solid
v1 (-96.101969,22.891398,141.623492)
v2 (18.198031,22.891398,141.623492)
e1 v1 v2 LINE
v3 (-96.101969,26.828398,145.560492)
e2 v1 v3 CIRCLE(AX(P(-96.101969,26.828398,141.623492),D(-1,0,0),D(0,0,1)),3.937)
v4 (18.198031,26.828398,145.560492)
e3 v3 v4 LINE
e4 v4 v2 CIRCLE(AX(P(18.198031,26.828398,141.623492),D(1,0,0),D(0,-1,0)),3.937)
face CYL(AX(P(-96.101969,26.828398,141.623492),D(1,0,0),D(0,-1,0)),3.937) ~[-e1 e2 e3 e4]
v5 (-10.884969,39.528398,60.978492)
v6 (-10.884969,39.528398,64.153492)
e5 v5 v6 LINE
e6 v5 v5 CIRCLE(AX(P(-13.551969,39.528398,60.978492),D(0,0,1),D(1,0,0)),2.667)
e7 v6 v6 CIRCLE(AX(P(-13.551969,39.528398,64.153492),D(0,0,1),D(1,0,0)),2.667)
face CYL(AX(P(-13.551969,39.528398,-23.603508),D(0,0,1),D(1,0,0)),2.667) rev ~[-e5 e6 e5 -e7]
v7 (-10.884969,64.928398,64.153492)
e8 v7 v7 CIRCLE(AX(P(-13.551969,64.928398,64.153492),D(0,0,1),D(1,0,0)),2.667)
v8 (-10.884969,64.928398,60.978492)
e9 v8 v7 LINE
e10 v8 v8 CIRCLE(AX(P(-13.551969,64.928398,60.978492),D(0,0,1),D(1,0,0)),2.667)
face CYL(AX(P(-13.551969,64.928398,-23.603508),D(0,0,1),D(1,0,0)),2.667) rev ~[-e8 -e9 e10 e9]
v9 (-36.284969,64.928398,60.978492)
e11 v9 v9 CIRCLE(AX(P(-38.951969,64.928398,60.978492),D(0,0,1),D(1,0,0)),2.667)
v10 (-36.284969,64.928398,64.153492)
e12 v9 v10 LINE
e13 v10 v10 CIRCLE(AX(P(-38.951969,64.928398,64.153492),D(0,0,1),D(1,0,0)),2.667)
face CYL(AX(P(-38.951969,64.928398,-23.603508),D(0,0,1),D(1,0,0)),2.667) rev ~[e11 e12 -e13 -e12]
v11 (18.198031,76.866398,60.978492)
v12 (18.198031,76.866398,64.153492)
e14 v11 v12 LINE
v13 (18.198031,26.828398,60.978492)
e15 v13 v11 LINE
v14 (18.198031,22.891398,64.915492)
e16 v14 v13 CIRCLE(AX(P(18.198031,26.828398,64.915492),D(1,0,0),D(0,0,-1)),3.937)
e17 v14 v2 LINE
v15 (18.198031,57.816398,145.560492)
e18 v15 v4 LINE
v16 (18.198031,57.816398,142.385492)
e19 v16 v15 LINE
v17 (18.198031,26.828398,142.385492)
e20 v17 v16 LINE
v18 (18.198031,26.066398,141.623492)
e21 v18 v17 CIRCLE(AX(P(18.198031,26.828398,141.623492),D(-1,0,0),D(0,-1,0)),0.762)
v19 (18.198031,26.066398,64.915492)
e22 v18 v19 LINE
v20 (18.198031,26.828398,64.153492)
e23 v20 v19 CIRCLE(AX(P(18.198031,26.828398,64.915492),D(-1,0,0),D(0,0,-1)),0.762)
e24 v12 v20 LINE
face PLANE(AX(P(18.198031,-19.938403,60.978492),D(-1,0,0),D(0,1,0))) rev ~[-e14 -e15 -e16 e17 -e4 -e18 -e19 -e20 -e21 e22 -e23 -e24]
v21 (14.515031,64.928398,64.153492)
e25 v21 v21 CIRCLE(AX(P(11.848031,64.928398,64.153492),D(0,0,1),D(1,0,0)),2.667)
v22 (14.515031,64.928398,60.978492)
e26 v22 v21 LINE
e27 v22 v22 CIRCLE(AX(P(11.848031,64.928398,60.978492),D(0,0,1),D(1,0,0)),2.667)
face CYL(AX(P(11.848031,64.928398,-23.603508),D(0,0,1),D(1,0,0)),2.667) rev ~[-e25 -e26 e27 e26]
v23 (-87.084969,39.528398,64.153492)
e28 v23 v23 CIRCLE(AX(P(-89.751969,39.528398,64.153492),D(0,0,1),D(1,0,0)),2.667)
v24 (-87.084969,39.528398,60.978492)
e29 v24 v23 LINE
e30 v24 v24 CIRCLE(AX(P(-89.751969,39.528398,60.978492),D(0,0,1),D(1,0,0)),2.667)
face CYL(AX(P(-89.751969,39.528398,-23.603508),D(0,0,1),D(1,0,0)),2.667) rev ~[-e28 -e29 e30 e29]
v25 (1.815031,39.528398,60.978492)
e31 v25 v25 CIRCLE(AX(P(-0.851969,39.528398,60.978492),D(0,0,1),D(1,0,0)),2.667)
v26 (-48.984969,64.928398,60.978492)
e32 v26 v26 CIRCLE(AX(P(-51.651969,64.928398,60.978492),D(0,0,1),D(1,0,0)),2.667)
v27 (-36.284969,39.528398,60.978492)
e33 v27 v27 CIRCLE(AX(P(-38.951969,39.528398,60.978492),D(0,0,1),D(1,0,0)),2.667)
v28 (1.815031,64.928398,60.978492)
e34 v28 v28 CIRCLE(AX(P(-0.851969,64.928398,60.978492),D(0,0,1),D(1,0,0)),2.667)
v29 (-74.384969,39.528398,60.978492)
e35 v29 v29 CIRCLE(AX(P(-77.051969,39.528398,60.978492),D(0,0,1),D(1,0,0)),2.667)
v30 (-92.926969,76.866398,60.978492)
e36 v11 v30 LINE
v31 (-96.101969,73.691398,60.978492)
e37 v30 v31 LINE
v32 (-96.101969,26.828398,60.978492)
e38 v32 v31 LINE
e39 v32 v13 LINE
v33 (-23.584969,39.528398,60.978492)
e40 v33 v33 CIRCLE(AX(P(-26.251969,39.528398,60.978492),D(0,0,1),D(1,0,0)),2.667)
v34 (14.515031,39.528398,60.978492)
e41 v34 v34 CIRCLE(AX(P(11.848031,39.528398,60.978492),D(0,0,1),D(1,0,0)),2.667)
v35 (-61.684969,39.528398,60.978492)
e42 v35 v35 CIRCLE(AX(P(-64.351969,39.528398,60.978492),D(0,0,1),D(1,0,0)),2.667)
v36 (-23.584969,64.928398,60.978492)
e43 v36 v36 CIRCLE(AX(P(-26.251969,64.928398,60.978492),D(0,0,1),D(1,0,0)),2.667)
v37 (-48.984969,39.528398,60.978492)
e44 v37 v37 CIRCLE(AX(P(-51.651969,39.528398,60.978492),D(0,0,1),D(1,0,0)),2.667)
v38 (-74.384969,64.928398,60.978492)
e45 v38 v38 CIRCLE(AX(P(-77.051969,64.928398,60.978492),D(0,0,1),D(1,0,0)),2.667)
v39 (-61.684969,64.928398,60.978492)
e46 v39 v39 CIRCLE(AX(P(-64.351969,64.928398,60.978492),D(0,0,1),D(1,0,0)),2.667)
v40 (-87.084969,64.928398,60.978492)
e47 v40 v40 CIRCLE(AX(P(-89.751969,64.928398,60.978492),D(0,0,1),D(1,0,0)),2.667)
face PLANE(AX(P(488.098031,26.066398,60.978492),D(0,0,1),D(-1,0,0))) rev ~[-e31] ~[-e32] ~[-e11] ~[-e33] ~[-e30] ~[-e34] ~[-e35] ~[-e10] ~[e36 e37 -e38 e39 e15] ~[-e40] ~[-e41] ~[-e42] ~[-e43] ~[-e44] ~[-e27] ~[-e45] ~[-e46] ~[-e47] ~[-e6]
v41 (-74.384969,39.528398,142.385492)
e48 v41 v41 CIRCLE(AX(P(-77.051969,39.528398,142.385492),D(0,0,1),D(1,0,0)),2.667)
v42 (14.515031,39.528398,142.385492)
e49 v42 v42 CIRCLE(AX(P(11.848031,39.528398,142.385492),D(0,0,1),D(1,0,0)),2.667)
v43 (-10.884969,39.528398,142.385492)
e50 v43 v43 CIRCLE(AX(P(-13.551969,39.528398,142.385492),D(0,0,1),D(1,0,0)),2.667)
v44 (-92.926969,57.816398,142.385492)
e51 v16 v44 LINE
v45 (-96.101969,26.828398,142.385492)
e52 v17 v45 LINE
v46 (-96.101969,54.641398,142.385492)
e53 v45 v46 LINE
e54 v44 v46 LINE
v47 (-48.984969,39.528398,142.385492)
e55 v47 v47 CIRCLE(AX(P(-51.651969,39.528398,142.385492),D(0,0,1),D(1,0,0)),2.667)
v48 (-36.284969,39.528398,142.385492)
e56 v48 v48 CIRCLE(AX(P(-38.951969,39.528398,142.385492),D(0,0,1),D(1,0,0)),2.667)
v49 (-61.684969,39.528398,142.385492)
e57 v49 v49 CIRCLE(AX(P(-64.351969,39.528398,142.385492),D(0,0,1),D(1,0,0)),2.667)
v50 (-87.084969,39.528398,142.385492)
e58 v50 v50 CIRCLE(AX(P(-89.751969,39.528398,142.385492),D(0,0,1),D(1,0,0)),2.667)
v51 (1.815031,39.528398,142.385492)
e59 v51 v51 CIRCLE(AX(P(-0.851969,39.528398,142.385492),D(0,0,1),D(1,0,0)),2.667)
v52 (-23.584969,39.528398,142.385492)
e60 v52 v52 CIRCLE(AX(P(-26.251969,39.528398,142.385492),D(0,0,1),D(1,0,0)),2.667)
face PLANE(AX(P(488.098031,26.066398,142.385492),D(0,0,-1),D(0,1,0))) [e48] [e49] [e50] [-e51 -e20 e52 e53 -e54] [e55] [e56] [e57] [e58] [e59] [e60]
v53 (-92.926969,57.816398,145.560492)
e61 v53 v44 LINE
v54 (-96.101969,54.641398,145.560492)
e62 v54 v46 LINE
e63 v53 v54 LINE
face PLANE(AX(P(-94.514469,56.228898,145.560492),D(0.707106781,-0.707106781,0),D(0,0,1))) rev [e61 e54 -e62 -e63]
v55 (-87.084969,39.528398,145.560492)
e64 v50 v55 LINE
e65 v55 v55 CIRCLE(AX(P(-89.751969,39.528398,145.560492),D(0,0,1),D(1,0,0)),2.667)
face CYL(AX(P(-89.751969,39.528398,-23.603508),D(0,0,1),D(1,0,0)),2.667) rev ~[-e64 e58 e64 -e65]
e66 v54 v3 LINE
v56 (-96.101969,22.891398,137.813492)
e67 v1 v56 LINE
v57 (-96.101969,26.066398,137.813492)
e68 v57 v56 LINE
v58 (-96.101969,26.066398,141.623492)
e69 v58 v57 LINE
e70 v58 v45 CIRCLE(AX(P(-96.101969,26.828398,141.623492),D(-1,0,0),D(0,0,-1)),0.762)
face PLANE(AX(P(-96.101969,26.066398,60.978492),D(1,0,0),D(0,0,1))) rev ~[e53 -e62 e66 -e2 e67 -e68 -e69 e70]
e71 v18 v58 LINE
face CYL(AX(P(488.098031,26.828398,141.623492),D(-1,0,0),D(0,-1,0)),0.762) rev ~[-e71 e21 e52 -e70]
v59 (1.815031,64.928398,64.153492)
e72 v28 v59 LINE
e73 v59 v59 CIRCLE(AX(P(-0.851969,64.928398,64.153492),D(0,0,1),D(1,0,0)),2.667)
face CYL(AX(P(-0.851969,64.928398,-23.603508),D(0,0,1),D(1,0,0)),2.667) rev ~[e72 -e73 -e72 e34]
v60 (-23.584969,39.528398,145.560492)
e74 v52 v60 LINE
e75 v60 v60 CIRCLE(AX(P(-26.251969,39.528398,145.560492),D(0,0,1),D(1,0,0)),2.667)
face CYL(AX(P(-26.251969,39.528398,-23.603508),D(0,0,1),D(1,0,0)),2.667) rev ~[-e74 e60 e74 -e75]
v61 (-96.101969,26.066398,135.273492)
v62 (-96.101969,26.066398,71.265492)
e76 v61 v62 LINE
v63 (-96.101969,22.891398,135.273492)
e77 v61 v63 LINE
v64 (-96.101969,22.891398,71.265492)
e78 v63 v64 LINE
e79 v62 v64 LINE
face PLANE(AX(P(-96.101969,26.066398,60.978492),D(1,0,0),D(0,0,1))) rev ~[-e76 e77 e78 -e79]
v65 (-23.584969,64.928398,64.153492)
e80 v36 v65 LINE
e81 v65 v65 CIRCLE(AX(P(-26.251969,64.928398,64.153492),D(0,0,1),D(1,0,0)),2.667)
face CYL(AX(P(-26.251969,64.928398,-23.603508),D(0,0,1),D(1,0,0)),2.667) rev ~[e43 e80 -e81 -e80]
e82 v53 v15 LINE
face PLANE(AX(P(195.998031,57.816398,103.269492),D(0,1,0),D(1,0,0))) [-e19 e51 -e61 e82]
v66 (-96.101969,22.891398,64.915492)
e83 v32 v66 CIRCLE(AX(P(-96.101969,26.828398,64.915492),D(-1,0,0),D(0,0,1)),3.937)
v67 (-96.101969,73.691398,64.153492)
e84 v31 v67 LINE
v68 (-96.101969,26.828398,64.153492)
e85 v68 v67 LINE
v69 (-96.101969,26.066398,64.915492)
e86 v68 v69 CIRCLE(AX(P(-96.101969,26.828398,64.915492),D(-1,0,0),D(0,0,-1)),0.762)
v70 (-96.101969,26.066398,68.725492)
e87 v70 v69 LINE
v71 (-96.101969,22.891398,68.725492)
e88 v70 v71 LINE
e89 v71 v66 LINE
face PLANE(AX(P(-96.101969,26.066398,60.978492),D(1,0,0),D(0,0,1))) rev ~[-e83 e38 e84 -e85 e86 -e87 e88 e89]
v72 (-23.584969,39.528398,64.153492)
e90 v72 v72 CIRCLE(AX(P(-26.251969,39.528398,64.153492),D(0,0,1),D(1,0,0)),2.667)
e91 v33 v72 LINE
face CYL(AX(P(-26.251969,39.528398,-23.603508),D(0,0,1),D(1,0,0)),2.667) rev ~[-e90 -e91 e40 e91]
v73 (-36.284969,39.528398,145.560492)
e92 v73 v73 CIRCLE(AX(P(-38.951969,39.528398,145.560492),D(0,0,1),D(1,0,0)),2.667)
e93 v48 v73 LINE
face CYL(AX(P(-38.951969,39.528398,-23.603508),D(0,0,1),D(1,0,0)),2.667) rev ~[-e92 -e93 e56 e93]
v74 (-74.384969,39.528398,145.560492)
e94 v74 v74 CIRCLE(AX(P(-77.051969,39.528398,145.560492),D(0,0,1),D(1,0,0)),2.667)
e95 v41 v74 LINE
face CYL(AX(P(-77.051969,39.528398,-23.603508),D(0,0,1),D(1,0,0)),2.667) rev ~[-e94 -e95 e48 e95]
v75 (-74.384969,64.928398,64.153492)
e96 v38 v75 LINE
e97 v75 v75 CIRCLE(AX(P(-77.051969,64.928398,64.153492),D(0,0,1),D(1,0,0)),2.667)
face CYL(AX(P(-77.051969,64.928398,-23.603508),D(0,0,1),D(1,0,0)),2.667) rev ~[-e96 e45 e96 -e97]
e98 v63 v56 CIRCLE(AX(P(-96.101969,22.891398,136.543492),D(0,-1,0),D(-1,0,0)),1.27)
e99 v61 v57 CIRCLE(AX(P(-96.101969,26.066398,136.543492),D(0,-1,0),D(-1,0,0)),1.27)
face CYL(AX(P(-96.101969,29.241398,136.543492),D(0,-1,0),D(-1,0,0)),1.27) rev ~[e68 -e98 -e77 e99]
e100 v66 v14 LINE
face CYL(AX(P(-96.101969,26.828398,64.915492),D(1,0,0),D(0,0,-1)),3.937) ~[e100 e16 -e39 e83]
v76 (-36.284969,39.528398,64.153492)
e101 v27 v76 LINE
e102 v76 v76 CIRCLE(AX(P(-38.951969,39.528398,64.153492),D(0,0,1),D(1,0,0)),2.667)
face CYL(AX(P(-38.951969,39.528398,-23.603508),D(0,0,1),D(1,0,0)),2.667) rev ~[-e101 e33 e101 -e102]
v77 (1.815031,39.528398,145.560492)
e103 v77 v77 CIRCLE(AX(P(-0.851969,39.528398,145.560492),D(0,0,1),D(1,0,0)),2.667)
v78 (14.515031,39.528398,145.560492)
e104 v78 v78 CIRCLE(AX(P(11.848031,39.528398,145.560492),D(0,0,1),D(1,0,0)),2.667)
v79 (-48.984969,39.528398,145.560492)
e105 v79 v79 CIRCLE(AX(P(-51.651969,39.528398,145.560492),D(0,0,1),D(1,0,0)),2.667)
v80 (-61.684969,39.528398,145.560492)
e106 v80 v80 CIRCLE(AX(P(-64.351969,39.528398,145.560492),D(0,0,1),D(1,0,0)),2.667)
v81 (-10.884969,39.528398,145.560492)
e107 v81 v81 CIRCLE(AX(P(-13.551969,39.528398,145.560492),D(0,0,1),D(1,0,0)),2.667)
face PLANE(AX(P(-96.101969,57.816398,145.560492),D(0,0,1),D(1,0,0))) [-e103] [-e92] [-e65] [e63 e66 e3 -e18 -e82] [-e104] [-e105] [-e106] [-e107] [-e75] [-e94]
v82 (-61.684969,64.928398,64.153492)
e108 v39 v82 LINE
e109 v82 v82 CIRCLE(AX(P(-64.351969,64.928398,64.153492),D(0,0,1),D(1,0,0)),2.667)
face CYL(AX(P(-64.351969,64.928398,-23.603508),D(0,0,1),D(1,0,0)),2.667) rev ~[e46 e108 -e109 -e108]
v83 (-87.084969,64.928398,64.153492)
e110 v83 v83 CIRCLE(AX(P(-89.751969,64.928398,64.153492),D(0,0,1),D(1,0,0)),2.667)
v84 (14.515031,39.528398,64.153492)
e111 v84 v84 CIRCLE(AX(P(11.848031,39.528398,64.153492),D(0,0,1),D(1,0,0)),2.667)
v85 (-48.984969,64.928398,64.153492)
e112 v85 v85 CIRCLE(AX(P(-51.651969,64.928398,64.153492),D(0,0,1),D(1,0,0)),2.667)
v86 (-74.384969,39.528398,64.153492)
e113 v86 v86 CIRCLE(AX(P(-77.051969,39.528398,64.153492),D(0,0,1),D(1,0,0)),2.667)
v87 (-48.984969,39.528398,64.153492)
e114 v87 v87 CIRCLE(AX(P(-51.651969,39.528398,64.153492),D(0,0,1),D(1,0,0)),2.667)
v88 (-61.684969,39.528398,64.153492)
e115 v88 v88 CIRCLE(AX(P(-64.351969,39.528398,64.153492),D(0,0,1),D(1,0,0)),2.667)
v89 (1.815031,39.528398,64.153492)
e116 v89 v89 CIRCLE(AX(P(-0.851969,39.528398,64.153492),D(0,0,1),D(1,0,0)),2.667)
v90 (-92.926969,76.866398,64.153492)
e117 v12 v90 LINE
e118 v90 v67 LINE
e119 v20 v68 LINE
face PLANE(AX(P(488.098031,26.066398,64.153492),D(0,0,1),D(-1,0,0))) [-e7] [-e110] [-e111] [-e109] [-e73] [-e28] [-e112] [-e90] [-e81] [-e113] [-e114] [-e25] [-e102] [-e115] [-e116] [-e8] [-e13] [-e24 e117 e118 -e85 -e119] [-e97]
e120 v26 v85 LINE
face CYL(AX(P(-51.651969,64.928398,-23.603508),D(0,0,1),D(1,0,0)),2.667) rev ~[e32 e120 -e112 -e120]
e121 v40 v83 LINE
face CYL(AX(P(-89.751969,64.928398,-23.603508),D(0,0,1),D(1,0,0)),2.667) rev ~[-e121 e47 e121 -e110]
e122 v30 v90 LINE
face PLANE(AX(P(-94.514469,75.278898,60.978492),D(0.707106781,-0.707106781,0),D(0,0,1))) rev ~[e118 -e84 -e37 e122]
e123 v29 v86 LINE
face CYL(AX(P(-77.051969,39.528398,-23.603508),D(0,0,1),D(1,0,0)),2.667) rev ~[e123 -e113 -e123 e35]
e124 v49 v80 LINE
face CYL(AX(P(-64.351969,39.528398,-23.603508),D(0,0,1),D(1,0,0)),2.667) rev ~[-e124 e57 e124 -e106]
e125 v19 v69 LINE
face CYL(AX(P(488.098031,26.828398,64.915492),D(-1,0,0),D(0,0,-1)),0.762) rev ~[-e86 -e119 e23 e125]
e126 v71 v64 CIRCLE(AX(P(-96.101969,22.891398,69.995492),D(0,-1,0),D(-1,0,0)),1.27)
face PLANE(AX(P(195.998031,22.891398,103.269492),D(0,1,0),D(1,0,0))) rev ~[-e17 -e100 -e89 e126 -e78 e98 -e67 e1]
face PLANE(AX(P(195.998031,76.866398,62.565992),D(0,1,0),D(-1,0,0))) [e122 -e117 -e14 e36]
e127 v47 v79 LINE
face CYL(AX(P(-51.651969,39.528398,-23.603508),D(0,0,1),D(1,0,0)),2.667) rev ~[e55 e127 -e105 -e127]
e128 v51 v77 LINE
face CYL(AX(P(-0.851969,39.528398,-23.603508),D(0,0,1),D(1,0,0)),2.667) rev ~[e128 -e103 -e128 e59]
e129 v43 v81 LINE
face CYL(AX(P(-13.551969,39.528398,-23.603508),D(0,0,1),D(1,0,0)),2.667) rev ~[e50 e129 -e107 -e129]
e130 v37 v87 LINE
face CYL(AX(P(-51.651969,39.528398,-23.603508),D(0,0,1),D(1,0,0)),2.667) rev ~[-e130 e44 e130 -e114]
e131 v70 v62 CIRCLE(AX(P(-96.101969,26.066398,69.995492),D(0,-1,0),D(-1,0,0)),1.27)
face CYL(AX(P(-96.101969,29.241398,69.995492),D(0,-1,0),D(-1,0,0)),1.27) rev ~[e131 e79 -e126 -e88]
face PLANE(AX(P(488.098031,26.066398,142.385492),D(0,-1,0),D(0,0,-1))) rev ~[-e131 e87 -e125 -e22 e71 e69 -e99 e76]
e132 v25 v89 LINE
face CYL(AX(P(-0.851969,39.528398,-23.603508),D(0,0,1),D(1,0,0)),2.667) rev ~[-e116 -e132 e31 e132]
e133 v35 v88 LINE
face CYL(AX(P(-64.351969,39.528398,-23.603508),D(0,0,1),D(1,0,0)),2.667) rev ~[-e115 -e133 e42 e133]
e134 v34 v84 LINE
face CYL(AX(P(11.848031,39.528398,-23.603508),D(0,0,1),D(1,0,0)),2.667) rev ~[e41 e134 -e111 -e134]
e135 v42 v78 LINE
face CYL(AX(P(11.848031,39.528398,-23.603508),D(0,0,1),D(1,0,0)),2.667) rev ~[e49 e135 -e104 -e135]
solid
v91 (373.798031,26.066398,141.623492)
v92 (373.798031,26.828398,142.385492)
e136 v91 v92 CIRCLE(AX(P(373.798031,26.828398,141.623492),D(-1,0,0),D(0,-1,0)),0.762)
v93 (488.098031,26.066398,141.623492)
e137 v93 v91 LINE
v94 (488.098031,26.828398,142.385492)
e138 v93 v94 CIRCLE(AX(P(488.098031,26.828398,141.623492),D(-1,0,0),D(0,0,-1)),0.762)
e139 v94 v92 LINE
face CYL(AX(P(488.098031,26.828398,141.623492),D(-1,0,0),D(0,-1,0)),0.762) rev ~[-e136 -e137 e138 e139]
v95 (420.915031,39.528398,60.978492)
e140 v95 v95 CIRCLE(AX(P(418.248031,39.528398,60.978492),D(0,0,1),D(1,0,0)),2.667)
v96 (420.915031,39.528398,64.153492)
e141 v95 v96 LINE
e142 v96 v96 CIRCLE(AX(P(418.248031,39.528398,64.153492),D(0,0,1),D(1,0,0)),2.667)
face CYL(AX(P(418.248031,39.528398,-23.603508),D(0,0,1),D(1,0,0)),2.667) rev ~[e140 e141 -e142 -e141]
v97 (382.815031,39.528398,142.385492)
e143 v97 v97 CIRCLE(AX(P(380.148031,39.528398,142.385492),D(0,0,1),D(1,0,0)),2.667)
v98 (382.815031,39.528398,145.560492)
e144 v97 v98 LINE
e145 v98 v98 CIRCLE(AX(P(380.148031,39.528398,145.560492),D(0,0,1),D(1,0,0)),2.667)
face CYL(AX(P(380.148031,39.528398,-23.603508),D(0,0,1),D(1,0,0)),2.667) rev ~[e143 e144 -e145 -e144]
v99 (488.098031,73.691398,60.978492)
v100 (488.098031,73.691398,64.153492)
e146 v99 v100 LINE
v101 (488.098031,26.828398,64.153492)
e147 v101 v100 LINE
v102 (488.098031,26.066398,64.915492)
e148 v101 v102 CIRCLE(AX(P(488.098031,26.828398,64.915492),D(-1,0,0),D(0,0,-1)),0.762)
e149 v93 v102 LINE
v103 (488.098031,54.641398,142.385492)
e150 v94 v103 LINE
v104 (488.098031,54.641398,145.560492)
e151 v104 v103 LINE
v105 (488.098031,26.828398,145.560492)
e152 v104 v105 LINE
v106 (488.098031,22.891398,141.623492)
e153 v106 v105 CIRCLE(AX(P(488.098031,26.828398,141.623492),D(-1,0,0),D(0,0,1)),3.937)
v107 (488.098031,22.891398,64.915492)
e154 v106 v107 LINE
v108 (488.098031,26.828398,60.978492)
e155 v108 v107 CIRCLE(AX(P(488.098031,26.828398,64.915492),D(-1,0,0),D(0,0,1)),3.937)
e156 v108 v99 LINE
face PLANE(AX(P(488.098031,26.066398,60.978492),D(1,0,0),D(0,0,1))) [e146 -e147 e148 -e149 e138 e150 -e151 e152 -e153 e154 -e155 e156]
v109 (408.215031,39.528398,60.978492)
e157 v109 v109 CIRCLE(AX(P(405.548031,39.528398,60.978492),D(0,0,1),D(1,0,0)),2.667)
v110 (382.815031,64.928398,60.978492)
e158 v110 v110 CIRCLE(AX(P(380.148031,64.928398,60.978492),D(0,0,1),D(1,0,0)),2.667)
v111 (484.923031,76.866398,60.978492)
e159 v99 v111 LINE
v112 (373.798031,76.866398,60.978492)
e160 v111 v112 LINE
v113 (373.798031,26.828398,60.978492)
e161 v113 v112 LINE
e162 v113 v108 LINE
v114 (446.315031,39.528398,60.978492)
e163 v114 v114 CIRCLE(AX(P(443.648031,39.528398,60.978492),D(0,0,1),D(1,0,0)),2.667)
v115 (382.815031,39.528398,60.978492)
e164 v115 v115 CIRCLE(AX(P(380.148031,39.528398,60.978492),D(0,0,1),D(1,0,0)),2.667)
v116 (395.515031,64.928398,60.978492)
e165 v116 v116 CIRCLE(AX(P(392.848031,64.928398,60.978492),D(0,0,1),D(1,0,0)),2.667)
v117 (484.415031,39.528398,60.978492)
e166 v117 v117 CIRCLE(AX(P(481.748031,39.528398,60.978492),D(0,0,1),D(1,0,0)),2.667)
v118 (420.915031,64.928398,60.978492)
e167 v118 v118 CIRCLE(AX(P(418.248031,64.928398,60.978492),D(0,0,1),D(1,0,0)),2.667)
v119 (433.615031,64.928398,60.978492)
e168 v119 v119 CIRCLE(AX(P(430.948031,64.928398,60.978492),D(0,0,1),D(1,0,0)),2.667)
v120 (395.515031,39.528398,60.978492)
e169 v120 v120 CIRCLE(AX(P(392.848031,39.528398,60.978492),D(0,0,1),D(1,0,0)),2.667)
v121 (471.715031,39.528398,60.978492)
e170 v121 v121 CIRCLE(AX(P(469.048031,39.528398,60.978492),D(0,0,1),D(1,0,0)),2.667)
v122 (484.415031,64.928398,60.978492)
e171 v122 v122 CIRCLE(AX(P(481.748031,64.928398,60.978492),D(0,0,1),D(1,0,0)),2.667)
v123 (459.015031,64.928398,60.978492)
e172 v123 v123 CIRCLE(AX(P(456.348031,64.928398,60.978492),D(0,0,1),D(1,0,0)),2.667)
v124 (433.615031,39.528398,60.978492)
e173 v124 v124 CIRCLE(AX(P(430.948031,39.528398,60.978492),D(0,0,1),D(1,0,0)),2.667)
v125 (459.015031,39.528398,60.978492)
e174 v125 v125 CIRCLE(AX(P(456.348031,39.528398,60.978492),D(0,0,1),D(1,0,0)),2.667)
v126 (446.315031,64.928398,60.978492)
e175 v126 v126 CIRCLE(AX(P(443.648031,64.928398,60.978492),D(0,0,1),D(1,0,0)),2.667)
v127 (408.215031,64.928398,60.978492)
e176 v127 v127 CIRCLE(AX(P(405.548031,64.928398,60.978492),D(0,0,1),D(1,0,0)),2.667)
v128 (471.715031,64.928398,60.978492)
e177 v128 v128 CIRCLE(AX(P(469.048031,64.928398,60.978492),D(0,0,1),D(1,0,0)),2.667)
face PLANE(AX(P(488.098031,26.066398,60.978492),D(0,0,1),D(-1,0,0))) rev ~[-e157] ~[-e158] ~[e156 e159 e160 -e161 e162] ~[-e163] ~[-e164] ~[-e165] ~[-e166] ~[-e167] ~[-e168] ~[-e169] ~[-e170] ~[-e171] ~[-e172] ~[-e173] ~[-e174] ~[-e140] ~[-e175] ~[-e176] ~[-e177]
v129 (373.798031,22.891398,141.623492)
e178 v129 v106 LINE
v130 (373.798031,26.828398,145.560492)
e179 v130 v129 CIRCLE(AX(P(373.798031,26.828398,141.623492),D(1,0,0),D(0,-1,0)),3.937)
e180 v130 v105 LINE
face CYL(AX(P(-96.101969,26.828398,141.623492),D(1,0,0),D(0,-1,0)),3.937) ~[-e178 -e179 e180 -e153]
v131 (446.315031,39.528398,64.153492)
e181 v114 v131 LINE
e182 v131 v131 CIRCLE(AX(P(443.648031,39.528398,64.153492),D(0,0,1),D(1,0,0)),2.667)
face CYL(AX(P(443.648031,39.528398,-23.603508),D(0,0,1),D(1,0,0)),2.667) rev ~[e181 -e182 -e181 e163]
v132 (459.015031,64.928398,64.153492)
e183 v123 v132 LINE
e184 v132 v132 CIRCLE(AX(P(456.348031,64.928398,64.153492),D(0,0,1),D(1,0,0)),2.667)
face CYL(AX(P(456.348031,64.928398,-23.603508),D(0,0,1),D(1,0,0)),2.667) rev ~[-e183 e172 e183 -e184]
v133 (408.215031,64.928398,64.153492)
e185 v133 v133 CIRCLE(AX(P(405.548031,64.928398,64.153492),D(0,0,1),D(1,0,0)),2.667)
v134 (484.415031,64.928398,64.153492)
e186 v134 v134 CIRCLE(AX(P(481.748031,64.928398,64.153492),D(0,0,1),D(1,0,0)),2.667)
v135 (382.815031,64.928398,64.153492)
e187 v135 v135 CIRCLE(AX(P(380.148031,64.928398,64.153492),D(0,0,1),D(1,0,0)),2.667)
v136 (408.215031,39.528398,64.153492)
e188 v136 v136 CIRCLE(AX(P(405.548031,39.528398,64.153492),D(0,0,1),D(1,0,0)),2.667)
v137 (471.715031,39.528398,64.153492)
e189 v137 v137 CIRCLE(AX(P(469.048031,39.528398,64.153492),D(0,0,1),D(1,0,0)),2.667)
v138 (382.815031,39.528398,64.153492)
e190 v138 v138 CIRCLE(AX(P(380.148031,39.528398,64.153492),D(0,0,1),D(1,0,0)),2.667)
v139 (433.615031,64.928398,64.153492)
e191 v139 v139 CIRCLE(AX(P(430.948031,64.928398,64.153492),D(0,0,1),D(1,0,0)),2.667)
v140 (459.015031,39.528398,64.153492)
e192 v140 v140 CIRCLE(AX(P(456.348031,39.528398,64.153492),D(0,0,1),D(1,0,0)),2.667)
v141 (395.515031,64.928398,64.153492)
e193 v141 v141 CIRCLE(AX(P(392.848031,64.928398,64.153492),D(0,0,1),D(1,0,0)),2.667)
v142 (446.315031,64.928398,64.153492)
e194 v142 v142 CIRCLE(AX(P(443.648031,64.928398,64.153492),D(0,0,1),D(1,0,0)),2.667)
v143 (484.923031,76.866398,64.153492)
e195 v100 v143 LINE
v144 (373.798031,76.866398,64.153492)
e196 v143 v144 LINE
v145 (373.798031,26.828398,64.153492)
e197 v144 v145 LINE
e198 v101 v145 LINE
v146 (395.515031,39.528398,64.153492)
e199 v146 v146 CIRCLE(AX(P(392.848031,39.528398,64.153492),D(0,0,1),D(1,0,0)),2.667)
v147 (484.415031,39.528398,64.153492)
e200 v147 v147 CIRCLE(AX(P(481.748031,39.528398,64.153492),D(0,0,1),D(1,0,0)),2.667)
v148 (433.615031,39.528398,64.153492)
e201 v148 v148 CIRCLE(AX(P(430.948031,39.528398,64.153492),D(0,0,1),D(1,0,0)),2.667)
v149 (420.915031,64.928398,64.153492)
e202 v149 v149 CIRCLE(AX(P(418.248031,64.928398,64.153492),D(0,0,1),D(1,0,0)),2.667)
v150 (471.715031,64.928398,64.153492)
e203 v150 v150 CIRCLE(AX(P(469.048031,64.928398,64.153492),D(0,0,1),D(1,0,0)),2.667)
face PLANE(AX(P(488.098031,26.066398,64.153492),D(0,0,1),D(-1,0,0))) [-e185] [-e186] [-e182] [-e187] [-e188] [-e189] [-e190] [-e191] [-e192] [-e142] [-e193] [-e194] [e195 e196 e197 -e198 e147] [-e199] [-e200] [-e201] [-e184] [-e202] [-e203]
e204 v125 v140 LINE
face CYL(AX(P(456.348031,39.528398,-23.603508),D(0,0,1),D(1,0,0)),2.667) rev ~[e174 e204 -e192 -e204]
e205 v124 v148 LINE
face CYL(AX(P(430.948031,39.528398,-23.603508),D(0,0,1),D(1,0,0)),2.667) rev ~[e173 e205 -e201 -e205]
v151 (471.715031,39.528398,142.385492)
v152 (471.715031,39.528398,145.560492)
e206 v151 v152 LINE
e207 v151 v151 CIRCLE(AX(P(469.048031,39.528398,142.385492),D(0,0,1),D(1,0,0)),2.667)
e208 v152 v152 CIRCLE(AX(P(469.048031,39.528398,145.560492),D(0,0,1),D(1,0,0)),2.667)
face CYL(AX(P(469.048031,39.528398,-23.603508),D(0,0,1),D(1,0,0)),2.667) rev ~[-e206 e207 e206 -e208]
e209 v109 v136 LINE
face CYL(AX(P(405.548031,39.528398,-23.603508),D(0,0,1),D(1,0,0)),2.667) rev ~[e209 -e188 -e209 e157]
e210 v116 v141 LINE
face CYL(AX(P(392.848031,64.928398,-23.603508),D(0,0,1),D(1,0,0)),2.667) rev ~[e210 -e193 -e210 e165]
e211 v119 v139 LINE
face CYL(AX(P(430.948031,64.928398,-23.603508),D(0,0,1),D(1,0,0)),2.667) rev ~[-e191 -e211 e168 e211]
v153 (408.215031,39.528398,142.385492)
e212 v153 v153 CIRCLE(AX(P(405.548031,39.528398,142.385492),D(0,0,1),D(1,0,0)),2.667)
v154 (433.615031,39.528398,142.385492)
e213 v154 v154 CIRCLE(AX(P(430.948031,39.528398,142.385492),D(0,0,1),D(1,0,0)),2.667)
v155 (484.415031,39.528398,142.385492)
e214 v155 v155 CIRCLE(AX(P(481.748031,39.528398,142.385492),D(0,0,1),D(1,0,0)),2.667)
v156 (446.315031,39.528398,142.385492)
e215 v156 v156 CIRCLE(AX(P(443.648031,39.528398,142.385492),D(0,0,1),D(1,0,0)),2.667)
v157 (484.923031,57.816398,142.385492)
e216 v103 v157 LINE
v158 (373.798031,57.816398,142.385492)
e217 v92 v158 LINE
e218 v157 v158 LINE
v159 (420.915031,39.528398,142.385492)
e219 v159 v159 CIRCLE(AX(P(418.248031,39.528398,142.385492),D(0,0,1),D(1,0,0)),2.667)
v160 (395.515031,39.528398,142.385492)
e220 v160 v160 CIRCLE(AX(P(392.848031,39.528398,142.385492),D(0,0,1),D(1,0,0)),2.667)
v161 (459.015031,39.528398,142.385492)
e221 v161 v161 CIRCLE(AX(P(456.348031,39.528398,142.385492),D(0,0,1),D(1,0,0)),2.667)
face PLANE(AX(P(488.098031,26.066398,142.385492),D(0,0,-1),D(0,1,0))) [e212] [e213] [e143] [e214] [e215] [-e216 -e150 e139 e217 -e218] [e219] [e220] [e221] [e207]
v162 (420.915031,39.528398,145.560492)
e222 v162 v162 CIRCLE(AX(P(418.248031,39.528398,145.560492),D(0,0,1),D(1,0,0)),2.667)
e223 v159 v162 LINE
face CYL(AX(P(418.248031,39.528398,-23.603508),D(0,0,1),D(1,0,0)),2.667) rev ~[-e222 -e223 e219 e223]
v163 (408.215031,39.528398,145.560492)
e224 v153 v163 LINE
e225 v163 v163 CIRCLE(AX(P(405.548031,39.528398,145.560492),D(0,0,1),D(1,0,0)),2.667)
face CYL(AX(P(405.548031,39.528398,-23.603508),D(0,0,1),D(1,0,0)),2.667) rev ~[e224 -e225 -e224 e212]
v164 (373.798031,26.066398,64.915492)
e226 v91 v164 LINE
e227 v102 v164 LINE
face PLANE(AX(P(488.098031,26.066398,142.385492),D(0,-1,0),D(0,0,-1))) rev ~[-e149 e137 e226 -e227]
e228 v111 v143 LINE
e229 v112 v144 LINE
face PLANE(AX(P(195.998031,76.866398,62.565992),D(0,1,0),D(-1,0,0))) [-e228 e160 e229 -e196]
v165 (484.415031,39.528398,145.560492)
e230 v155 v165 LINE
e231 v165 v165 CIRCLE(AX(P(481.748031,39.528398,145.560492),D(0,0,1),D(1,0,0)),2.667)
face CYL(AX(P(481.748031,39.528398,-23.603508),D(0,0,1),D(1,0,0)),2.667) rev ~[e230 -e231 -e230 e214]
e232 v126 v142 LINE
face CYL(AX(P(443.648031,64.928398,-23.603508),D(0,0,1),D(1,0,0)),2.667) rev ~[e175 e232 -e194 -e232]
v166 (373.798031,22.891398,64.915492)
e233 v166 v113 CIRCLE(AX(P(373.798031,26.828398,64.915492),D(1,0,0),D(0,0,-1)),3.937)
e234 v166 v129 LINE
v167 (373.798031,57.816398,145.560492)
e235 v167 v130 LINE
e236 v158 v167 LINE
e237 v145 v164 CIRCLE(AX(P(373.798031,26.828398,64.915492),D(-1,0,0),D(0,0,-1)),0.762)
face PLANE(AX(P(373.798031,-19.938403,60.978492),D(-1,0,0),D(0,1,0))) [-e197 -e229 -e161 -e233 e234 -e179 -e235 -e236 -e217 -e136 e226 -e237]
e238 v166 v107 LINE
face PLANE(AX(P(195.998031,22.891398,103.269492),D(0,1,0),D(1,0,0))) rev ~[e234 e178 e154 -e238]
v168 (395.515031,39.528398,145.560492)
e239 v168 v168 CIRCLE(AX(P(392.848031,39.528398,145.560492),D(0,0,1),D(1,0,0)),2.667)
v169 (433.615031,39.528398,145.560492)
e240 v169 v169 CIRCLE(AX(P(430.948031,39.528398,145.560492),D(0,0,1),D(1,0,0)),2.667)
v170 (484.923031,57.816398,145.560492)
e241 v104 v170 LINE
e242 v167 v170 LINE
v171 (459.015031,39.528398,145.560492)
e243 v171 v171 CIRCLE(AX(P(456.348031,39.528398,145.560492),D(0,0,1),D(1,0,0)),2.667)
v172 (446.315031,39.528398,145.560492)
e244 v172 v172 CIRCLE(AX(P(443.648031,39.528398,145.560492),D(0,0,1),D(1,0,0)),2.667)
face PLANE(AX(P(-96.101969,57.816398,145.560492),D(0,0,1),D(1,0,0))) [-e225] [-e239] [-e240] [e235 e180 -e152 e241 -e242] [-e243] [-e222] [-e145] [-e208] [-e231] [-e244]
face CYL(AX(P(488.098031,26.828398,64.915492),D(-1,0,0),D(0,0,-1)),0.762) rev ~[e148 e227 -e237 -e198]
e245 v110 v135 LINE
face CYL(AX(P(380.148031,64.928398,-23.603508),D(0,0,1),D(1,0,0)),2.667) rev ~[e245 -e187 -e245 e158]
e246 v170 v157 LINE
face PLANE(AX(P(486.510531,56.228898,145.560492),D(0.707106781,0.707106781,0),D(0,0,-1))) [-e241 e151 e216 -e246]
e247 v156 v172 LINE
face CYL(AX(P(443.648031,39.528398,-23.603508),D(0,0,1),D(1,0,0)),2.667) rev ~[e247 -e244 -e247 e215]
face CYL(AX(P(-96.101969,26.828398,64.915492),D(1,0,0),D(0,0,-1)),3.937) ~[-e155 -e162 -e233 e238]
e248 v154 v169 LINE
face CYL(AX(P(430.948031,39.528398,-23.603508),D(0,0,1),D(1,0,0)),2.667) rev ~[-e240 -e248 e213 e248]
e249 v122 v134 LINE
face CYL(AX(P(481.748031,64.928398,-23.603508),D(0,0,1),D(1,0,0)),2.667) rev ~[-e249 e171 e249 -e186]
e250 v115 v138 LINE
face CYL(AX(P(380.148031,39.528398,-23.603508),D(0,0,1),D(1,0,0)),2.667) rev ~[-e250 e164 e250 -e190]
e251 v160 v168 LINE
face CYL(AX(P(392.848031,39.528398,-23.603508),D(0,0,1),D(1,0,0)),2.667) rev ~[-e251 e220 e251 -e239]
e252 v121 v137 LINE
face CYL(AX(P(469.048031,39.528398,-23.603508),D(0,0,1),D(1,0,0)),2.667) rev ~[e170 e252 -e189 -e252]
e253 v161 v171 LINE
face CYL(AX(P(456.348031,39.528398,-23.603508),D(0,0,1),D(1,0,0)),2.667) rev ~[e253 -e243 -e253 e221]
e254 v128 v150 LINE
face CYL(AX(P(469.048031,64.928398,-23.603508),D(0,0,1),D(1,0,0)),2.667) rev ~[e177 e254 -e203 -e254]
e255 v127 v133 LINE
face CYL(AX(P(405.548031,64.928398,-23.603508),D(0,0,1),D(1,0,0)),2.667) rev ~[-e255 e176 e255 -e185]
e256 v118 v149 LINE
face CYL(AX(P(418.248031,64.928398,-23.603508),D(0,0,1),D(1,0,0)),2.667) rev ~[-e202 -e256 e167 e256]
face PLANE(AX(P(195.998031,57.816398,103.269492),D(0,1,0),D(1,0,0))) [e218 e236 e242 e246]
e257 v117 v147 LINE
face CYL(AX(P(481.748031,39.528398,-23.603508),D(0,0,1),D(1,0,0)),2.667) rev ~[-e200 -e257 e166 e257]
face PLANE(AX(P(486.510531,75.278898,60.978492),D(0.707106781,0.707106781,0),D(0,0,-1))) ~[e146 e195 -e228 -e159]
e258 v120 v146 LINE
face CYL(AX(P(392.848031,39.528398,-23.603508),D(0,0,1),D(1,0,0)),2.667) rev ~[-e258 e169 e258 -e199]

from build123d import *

# Parameters (mm, degrees)
SKETCH1_W                = 584.2
SKETCH1_H                = 84.582
BOSS_EXTRUDE1_DEPTH      = 34.925
SKETCH2_W                = 81.407
SKETCH2_H                = 31.75
CUT_EXTRUDE1_DEPTH       = 585.2
SKETCH3_W                = 584.2
SKETCH3_H                = 3.175
BOSS_EXTRUDE2_DEPTH      = 50.8
M2_CLEARANCE_HOLE1_D     = 2.54
M2_CLEARANCE_HOLE1_DEPTH = 3.175
M5_CLEARANCE_HOLE1_D     = 5.334
M5_CLEARANCE_HOLE1_DEPTH = 84.582
CHAMFER1_SIZE            = 3.175
FILLET1_R                = 0.762
FILLET2_R                = 3.937
SKETCH9_W                = 355.6
SKETCH9_H                = 96.804801105
CUT_EXTRUDE2_DEPTH       = 85.582


with BuildPart() as part:
    # Sketch1 → Boss-Extrude1 (new body)
    with BuildSketch(Plane(origin=(0, 57.816398039, 0), x_dir=(1, 0, 0), z_dir=(0, 1, 0))):
        with Locations((195.998031467, -103.269491579)):
            Rectangle(SKETCH1_W, SKETCH1_H)
    extrude(amount=-BOSS_EXTRUDE1_DEPTH)

    # Sketch2 → Cut-Extrude1 (cut, through all)
    with BuildSketch(Plane(origin=(488.098031467, 0, 0), x_dir=(0, 0, -1), z_dir=(1, 0, 0))):
        with Locations((-101.681991579, 41.941398039)):
            Rectangle(SKETCH2_W, SKETCH2_H)
    extrude(amount=-CUT_EXTRUDE1_DEPTH, mode=Mode.SUBTRACT)

    # Sketch3 → Boss-Extrude2 (add)
    with BuildSketch(Plane(origin=(0, 26.066398039, 0), x_dir=(-1, 0, 0), z_dir=(0, 1, 0))):
        with Locations((-195.998031467, 62.565991579)):
            Rectangle(SKETCH3_W, SKETCH3_H)
    extrude(amount=BOSS_EXTRUDE2_DEPTH)

    # M2 Clearance Hole1
    with Locations(Plane(origin=(0, 26.066398039, 0), x_dir=(1, 0, 0), z_dir=(0, 1, 0))):
        with Locations((-96.101968533, -136.543491579), (-96.101968533, -69.995491579)):
            Hole(M2_CLEARANCE_HOLE1_D / 2, depth=M2_CLEARANCE_HOLE1_DEPTH)

    # M5 Clearance Hole1
    with Locations(Plane(origin=(0, 0, 60.978491579), x_dir=(-1, 0, 0), z_dir=(0, 0, -1))):
        with Locations((-469.048031467, 64.928398039), (-481.748031467, 64.928398039), (-469.048031467, 39.528398039), (-481.748031467, 39.528398039), (-456.348031467, 39.528398039), (-443.648031467, 39.528398039), (-430.948031467, 39.528398039), (-418.248031467, 39.528398039), (-405.548031467, 39.528398039), (-392.848031467, 39.528398039), (-380.148031467, 39.528398039), (-367.448031467, 39.528398039), (-354.748031467, 39.528398039), (-342.048031467, 39.528398039), (-329.348031467, 39.528398039), (-316.648031467, 39.528398039), (-303.948031467, 39.528398039), (-291.248031467, 39.528398039), (-278.548031467, 39.528398039), (-265.848031467, 39.528398039), (-253.148031467, 39.528398039), (-240.448031467, 39.528398039), (-227.748031467, 39.528398039), (-215.048031467, 39.528398039), (-202.348031467, 39.528398039), (-189.648031467, 39.528398039), (-176.948031467, 39.528398039), (-164.248031467, 39.528398039), (-151.548031467, 39.528398039), (-138.848031467, 39.528398039), (-126.148031467, 39.528398039), (-113.448031467, 39.528398039), (-100.748031467, 39.528398039), (-88.048031467, 39.528398039), (-75.348031467, 39.528398039), (-62.648031467, 39.528398039), (-49.948031467, 39.528398039), (-37.248031467, 39.528398039), (-24.548031467, 39.528398039), (-11.848031467, 39.528398039), (0.851968533, 39.528398039), (13.551968533, 39.528398039), (26.251968533, 39.528398039), (38.951968533, 39.528398039), (51.651968533, 39.528398039), (64.351968533, 39.528398039), (77.051968533, 39.528398039), (89.751968533, 39.528398039), (-456.348031467, 64.928398039), (-443.648031467, 64.928398039), (-430.948031467, 64.928398039), (-418.248031467, 64.928398039), (-405.548031467, 64.928398039), (-392.848031467, 64.928398039), (-380.148031467, 64.928398039), (-367.448031467, 64.928398039), (-354.748031467, 64.928398039), (-342.048031467, 64.928398039), (-329.348031467, 64.928398039), (-316.648031467, 64.928398039), (-303.948031467, 64.928398039), (-291.248031467, 64.928398039), (-278.548031467, 64.928398039), (-265.848031467, 64.928398039), (-253.148031467, 64.928398039), (-240.448031467, 64.928398039), (-227.748031467, 64.928398039), (-215.048031467, 64.928398039), (-202.348031467, 64.928398039), (-189.648031467, 64.928398039), (-176.948031467, 64.928398039), (-164.248031467, 64.928398039), (-151.548031467, 64.928398039), (-138.848031467, 64.928398039), (-126.148031467, 64.928398039), (-113.448031467, 64.928398039), (-100.748031467, 64.928398039), (-88.048031467, 64.928398039), (-75.348031467, 64.928398039), (-62.648031467, 64.928398039), (-49.948031467, 64.928398039), (-37.248031467, 64.928398039), (-24.548031467, 64.928398039), (-11.848031467, 64.928398039), (0.851968533, 64.928398039), (13.551968533, 64.928398039), (26.251968533, 64.928398039), (38.951968533, 64.928398039), (51.651968533, 64.928398039), (64.351968533, 64.928398039), (77.051968533, 64.928398039), (89.751968533, 64.928398039)):
            Hole(M5_CLEARANCE_HOLE1_D / 2, depth=M5_CLEARANCE_HOLE1_DEPTH)

    # Chamfer1
    chamfer1_edges = [part.edges().sort_by_distance(p)[0] for p in [
        (-96.101968533, 57.816398039, 143.972991579),
        (-96.101968533, 76.866398039, 62.565991579),
        (488.098031467, 76.866398039, 62.565991579),
        (488.098031467, 57.816398039, 143.972991579),
    ]]
    chamfer(chamfer1_edges, length=CHAMFER1_SIZE)

    # Fillet1
    fillet1_edges = [part.edges().sort_by_distance(p)[0] for p in [
        (195.998031467, 26.066398039, 142.385491579),
        (195.998031467, 26.066398039, 64.153491579),
    ]]
    fillet(fillet1_edges, radius=FILLET1_R)

    # Fillet2
    fillet2_edges = [part.edges().sort_by_distance(p)[0] for p in [
        (195.998031467, 22.891398039, 60.978491579),
        (195.998031467, 22.891398039, 145.560491579),
    ]]
    fillet(fillet2_edges, radius=FILLET2_R)

    # Sketch9 → Cut-Extrude2 (cut, through all)
    with BuildSketch(Plane(origin=(0, 0, 60.978491579), x_dir=(-1, 0, 0), z_dir=(0, 0, -1))):
        with Locations((-195.998031467, 28.463997486)):
            Rectangle(SKETCH9_W, SKETCH9_H)
    extrude(amount=-CUT_EXTRUDE2_DEPTH, mode=Mode.SUBTRACT)


solid = part.part
